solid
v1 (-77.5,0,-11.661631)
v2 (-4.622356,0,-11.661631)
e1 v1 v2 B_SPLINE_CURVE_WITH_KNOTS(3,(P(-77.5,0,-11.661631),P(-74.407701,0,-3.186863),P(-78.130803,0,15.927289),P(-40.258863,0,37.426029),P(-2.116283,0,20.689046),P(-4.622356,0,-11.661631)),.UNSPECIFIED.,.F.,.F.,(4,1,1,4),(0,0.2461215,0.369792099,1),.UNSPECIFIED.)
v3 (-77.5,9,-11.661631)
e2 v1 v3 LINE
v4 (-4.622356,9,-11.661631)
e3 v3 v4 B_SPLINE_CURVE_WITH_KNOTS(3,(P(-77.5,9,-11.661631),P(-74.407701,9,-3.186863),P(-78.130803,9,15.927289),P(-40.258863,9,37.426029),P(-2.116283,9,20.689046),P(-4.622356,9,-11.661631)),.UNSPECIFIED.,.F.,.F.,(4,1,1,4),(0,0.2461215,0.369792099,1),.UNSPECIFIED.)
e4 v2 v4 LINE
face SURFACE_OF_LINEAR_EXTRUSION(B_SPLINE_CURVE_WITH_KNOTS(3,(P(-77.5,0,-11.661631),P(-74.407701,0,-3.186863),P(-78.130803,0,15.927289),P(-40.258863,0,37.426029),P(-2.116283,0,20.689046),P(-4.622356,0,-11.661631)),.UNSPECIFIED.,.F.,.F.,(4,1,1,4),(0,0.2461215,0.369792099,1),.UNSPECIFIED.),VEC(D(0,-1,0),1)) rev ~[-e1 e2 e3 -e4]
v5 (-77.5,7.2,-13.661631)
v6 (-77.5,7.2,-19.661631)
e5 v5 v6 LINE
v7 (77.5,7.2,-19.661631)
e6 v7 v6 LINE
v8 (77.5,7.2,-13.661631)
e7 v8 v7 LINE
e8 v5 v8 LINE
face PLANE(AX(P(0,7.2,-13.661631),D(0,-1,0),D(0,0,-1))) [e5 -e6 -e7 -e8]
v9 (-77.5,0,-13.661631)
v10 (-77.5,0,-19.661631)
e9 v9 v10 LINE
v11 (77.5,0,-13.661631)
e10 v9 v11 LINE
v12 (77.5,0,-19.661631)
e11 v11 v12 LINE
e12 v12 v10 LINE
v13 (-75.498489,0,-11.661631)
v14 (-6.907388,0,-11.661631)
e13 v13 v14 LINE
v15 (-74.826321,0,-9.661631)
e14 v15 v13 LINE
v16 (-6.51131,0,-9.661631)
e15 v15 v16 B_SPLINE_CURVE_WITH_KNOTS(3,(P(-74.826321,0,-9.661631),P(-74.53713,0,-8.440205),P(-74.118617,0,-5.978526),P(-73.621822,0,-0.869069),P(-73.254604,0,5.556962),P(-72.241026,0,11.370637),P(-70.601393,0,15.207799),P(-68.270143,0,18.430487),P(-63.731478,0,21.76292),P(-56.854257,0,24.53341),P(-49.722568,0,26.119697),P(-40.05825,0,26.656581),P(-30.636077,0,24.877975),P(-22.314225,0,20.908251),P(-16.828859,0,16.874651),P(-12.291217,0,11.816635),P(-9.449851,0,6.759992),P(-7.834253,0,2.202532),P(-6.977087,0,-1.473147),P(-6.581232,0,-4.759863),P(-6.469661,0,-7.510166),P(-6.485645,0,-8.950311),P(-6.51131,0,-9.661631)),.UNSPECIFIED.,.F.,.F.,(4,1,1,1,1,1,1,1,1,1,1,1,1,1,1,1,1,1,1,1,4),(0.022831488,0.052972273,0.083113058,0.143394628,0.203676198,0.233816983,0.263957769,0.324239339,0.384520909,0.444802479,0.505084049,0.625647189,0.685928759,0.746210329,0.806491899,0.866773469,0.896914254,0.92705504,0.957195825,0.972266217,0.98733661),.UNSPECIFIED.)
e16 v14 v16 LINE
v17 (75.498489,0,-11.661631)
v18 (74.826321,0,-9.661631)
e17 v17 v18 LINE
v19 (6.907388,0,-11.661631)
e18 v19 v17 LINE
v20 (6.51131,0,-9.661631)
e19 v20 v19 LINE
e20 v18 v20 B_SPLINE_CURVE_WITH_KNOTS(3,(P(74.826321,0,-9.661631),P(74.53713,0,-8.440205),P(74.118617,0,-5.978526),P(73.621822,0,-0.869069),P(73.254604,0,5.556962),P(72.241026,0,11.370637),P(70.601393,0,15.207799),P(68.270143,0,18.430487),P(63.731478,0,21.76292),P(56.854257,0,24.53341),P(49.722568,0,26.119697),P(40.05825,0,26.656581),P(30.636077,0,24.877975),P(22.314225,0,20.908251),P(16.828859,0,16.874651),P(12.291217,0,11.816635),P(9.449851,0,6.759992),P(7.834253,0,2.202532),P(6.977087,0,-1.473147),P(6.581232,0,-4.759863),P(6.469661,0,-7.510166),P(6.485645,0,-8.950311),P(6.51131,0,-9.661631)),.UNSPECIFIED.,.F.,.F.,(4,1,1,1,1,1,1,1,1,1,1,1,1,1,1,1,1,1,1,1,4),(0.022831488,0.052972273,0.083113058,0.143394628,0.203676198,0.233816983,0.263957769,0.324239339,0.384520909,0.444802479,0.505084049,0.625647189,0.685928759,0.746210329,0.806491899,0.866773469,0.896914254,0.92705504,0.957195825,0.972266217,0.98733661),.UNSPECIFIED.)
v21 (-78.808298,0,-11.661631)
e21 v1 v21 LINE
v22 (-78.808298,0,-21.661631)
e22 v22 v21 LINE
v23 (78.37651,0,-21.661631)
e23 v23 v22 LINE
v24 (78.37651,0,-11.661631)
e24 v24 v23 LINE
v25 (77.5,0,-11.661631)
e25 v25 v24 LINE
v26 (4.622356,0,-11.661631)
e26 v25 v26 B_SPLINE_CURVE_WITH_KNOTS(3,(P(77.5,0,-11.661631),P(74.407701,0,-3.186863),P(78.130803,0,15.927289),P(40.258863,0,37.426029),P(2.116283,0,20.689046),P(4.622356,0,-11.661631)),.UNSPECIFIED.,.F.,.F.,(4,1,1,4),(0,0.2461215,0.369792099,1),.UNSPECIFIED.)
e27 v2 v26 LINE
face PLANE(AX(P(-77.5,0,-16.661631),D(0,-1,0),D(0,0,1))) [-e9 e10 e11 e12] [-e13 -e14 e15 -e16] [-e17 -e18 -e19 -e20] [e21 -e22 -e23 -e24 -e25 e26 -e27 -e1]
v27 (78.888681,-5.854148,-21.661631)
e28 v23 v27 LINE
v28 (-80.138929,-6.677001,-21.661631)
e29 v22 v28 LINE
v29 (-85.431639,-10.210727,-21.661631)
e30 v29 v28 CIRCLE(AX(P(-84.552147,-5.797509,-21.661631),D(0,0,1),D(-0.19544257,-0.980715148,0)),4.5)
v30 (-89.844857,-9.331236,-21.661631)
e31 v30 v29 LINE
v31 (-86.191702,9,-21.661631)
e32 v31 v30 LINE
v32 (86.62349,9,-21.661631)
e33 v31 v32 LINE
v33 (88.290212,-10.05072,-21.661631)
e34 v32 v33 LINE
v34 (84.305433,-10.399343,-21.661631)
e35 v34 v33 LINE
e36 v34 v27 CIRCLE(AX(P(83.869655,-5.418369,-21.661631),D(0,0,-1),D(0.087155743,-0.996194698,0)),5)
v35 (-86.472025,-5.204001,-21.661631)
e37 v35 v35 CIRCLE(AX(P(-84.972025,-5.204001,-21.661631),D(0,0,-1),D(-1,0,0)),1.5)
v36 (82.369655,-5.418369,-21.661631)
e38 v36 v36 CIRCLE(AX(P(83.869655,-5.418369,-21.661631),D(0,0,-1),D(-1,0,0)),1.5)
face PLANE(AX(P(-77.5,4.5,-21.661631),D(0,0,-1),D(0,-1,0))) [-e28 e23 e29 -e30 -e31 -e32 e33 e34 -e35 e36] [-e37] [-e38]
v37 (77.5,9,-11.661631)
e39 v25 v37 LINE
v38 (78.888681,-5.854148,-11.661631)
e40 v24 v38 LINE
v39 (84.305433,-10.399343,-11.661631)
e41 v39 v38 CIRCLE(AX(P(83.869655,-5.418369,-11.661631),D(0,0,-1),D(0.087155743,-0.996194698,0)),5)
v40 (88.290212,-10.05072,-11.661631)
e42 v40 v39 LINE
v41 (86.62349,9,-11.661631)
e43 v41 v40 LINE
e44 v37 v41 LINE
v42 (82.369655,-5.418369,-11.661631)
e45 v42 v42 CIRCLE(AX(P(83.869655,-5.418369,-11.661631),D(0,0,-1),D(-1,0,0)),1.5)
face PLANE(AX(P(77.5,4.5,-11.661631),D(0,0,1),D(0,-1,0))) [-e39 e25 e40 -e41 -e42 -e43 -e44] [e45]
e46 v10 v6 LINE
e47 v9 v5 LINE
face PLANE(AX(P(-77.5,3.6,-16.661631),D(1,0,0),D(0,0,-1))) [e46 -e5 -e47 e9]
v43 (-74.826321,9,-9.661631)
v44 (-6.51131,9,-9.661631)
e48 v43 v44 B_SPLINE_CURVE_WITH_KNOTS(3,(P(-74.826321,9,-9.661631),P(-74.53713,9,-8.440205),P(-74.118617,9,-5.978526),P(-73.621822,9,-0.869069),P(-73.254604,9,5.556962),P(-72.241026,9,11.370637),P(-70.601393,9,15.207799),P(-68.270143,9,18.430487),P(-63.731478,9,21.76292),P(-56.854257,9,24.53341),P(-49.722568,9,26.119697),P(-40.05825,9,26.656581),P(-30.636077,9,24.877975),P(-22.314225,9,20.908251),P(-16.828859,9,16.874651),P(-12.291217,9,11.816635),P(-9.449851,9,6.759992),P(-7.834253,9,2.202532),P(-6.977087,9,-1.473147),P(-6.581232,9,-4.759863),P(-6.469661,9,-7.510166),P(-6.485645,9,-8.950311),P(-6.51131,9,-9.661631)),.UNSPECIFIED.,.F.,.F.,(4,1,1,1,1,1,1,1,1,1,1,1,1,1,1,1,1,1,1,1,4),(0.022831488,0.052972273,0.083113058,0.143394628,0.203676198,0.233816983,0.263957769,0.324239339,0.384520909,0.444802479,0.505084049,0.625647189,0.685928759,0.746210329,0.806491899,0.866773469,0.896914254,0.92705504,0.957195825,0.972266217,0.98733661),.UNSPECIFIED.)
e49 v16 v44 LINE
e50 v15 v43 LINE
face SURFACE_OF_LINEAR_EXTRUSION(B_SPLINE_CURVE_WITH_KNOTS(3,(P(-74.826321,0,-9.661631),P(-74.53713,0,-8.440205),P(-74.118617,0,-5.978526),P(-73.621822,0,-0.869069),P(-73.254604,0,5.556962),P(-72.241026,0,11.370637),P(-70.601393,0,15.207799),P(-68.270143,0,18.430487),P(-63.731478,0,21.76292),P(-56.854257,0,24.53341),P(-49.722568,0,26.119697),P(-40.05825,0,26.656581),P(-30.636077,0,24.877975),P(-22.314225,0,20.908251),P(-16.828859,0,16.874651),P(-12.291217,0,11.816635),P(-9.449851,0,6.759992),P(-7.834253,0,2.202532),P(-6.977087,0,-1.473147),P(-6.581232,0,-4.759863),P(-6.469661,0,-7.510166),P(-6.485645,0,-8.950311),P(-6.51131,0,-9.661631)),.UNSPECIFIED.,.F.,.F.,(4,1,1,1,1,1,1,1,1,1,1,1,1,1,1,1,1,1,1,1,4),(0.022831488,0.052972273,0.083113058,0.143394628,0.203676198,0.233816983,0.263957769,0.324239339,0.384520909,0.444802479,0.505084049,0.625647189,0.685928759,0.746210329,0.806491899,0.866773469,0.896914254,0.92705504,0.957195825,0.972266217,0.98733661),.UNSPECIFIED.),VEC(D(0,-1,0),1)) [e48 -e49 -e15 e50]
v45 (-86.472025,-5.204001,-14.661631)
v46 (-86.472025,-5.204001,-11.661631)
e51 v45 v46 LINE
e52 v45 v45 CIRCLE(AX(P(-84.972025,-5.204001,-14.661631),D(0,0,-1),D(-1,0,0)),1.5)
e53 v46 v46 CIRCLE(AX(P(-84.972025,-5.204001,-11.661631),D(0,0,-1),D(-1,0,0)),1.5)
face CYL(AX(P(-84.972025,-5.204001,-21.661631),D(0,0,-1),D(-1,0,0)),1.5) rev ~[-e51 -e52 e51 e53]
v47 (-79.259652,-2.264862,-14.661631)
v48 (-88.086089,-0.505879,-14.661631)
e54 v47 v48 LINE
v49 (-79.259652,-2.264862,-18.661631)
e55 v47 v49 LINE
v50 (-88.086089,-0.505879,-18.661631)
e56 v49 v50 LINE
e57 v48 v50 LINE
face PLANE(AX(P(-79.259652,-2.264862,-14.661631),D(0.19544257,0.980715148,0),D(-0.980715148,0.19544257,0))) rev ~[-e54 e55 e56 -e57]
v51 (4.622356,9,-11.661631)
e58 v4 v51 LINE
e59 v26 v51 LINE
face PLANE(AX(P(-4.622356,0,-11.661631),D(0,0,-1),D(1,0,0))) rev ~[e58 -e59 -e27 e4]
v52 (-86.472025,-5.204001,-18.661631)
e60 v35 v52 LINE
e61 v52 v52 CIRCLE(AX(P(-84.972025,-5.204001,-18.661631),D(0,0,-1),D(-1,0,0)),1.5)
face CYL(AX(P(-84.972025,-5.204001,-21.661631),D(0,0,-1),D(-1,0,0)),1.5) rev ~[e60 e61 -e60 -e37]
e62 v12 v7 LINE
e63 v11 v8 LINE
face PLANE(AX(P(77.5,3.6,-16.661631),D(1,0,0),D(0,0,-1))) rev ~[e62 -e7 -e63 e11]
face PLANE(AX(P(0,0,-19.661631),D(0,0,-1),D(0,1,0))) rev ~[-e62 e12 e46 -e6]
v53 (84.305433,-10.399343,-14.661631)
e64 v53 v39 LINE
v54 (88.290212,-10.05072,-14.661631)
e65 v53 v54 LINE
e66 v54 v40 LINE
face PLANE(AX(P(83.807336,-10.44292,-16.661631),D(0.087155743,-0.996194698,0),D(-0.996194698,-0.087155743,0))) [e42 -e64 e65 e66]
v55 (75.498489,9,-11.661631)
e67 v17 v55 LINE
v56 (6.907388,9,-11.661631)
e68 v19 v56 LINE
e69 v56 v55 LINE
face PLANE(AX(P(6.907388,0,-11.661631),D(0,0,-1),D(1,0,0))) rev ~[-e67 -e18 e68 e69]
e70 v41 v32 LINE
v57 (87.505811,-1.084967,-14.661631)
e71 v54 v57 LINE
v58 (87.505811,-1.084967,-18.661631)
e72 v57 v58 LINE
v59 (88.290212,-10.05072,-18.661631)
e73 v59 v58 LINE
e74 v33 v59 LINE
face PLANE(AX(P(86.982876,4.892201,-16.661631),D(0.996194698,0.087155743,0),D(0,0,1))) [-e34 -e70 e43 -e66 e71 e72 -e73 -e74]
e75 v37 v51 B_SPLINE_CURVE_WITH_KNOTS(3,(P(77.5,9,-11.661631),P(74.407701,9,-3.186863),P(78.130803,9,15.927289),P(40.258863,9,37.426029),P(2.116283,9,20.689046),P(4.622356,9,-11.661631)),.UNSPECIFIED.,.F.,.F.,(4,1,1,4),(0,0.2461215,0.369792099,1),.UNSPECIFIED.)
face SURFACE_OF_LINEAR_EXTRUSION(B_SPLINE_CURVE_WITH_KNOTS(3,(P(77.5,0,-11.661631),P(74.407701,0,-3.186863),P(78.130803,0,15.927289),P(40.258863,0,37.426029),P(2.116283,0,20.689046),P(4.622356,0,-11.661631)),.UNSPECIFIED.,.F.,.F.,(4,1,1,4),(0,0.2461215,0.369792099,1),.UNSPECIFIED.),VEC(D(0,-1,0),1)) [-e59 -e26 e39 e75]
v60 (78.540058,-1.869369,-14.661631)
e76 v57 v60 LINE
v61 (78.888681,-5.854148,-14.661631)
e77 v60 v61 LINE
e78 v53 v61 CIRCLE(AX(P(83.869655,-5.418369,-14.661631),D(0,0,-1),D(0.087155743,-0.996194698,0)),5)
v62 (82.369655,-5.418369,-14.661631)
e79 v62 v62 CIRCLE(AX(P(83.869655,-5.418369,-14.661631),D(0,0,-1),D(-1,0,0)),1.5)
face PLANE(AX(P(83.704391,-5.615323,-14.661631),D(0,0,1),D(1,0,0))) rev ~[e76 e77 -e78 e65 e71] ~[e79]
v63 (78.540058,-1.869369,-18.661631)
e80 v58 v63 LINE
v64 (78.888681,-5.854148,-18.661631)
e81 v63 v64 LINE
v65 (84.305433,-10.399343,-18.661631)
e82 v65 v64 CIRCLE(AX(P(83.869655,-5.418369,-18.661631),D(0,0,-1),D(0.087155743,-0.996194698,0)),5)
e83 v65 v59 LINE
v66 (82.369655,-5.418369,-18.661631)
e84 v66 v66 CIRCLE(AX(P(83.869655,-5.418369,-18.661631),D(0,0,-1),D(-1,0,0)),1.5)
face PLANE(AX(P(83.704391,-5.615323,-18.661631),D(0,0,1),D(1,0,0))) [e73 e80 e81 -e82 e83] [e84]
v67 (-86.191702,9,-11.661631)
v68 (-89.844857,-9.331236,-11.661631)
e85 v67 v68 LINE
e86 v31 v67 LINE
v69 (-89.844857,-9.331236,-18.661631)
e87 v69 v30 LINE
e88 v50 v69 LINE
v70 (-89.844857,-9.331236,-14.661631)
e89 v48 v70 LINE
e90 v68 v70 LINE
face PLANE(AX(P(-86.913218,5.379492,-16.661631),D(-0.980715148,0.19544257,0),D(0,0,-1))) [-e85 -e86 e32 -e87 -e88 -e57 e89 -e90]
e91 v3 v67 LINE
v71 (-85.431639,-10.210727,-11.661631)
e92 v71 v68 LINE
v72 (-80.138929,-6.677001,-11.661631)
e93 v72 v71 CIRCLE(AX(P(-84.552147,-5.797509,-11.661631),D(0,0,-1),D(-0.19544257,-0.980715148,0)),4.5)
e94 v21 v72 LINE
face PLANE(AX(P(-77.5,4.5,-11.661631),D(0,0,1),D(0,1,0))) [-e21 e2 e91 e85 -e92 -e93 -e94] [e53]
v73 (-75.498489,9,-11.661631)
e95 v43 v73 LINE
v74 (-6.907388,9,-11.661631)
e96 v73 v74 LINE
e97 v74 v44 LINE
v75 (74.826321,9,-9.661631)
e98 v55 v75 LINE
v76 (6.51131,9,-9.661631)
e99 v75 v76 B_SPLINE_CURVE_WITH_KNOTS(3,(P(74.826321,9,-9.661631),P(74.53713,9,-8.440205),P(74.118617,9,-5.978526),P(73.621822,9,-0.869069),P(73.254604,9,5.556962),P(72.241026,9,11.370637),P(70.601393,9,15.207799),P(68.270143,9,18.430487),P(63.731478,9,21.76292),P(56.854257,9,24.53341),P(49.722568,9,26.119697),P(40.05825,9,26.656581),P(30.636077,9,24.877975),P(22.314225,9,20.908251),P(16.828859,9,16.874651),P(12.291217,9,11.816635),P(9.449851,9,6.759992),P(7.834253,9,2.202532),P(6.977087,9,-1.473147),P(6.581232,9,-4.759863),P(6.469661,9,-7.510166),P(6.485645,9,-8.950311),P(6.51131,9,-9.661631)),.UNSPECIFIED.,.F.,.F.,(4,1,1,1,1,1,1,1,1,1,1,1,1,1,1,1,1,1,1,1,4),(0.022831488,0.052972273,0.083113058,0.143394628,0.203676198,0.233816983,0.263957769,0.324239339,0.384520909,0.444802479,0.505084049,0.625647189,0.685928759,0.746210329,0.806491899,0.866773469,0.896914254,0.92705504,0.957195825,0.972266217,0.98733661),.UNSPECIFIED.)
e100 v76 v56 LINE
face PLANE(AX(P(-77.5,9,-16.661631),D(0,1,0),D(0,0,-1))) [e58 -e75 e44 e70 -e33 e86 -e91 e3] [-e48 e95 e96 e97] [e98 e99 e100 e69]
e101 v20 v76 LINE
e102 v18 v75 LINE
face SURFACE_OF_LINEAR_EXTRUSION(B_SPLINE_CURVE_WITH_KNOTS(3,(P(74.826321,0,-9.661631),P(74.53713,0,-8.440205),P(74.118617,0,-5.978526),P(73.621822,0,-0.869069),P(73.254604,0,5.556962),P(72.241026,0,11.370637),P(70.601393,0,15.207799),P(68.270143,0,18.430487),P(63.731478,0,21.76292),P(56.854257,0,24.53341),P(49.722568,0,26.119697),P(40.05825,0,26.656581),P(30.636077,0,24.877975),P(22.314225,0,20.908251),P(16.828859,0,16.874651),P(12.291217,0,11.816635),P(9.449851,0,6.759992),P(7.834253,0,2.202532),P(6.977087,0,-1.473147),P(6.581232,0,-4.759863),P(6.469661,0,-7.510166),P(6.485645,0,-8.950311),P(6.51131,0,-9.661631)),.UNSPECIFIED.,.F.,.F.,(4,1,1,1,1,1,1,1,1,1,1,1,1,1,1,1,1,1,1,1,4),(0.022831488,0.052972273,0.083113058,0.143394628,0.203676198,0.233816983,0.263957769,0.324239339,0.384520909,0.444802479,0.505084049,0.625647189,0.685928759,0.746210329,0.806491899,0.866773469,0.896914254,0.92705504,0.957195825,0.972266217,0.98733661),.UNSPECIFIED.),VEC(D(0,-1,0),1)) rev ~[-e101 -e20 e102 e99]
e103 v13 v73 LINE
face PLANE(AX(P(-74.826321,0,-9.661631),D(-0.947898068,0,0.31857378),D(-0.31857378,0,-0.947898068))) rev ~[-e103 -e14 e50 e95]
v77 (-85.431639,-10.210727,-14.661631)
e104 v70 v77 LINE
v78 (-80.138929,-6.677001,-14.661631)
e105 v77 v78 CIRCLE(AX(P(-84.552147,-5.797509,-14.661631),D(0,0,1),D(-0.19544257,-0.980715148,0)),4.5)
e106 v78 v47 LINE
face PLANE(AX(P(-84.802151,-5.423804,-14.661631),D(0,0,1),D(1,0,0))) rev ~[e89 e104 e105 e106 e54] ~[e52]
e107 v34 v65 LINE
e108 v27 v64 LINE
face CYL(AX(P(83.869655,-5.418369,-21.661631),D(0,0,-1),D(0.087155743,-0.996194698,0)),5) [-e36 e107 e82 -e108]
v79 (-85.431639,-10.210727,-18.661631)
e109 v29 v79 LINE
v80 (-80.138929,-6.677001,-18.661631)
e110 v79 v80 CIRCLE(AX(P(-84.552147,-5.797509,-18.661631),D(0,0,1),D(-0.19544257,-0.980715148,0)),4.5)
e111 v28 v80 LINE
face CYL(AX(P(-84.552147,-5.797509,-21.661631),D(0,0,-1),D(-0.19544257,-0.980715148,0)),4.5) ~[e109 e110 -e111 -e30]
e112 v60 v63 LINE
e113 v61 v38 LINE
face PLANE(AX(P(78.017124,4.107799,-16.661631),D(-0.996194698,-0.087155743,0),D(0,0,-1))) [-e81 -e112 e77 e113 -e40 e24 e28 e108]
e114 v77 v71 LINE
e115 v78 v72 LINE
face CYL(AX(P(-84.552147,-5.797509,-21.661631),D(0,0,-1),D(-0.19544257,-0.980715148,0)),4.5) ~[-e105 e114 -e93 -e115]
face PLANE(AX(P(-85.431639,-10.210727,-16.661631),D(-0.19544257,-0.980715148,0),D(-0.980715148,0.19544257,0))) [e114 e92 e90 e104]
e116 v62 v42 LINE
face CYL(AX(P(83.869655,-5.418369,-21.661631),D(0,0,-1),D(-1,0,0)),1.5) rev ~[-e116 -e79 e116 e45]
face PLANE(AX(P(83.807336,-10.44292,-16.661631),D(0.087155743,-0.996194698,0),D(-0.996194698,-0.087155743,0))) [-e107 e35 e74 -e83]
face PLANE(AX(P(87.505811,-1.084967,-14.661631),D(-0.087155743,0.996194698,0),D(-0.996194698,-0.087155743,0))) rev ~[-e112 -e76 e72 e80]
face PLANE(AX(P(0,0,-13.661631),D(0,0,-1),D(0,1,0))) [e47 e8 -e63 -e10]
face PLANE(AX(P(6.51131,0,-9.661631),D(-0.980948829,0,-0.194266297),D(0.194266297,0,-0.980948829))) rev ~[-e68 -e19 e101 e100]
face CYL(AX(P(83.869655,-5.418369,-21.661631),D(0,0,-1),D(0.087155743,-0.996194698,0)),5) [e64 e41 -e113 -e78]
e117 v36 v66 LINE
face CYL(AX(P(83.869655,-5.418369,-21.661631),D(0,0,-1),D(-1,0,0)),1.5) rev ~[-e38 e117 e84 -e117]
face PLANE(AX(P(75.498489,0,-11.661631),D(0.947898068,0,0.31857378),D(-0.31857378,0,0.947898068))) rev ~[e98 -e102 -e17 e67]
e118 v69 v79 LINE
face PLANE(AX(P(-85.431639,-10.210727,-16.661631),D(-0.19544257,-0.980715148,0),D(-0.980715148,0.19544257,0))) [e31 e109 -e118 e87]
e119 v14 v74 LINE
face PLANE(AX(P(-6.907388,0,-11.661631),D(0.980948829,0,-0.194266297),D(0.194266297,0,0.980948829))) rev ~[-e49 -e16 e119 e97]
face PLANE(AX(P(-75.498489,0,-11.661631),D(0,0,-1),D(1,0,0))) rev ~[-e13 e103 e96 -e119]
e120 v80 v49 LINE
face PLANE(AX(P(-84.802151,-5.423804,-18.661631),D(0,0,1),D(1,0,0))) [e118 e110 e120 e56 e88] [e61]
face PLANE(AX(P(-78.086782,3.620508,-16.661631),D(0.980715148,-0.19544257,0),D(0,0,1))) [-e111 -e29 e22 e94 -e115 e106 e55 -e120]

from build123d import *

# Parameters (mm, degrees)
FRAME_DEPTH              = 9
SKETCH_1035_W            = 10
SKETCH_1035_H            = 9
CONNECTION_2_DEPTH       = 103.044080854
SKETCH_23_W              = 10
SKETCH_23_H              = 9
SKETCH_24_R              = 1.5
AND_CONNECTION_DEPTH     = 104.419167617
SKETCH_25_W              = 6
SKETCH_25_H              = 7.2
CUT_EXTRUDE_2670_DEPTH   = 77.5
SKETCH_25_2_W            = 6
SKETCH_25_2_H            = 7.2
CUT_EXTRUDE_2723_DEPTH   = 77.5
SKETCH_1600_R            = 1.5
CUT_EXTRUDE_3036_DEPTH   = 104.349280079
CONNECTION_4_DEPTH       = 2
CONNECTION_4_DEPTH_BACK  = 2
CUT_EXTRUDE_3_DEPTH      = 2
CUT_EXTRUDE_3_DEPTH_BACK = 2


with BuildPart() as part:
    # 草图1 → frame (new body)
    with BuildSketch(Plane(origin=(0, 0, 0), x_dir=(1, 0, 0), z_dir=(0, 1, 0))):
        with BuildLine():
            Line((77.5, 21.66163142), (-77.5, 21.66163142))
            Line((-77.5, 21.66163142), (-77.5, 11.66163142))
            add(Edge.make_bspline(
                [(-77.5, 11.66163142), (-74.407700798, 3.186863233), (-78.13080327, -15.927288699), (-40.25886312, -37.426028597), (-2.116282918, -20.689046368), (-4.622356495, 11.66163142)],
                knots=[0, 0, 0, 0, 0.2461215, 0.369792099, 1, 1, 1, 1], degree=3))
            Line((-4.622356495, 11.66163142), (4.622356495, 11.66163142))
            add(Edge.make_bspline(
                [(77.5, 11.66163142), (74.407700798, 3.186863233), (78.13080327, -15.927288699), (40.25886312, -37.426028597), (2.116282918, -20.689046368), (4.622356495, 11.66163142)],
                knots=[0, 0, 0, 0, 0.2461215, 0.369792099, 1, 1, 1, 1], degree=3))
            Line((77.5, 11.66163142), (77.5, 21.66163142))
        make_face()
        with BuildLine():
            Line((6.907388487, 11.66163142), (75.498489426, 11.66163142))
            Line((75.498489426, 11.66163142), (74.826320569, 9.66163142))
            add(Edge.make_bspline(
                [(74.826320569, 9.66163142), (74.537129512, 8.440205397), (74.118616889, 5.97852646), (73.621822389, 0.86906895), (73.254603503, -5.556962308), (72.241025744, -11.370637322), (70.601393479, -15.207799235), (68.270143007, -18.43048657), (63.731478169, -21.762919869), (56.85425746, -24.533410045), (49.722568077, -26.119696622), (40.058249914, -26.656581209), (30.63607695, -24.877975202), (22.314225365, -20.908251341), (16.828859323, -16.874650673), (12.291217041, -11.816635216), (9.449850549, -6.759991518), (7.834253455, -2.202532167), (6.977086921, 1.473147324), (6.581231794, 4.759863142), (6.469661343, 7.510165764), (6.485645336, 8.950311376), (6.511310136, 9.66163142)],
                knots=[0.022831488, 0.022831488, 0.022831488, 0.022831488, 0.052972273, 0.083113058, 0.143394628, 0.203676198, 0.233816983, 0.263957769, 0.324239339, 0.384520909, 0.444802479, 0.505084049, 0.625647189, 0.685928759, 0.746210329, 0.806491899, 0.866773469, 0.896914254, 0.92705504, 0.957195825, 0.972266217, 0.98733661, 0.98733661, 0.98733661, 0.98733661], degree=3))
            Line((6.511310136, 9.66163142), (6.907388487, 11.66163142))
        make_face(mode=Mode.SUBTRACT)
        with BuildLine():
            Line((-75.498489426, 11.66163142), (-6.907388487, 11.66163142))
            Line((-6.907388487, 11.66163142), (-6.511310136, 9.66163142))
            add(Edge.make_bspline(
                [(-74.826320569, 9.66163142), (-74.537129512, 8.440205397), (-74.118616889, 5.97852646), (-73.621822389, 0.86906895), (-73.254603503, -5.556962308), (-72.241025744, -11.370637322), (-70.601393479, -15.207799235), (-68.270143007, -18.43048657), (-63.731478169, -21.762919869), (-56.85425746, -24.533410045), (-49.722568077, -26.119696622), (-40.058249914, -26.656581209), (-30.63607695, -24.877975202), (-22.314225365, -20.908251341), (-16.828859323, -16.874650673), (-12.291217041, -11.816635216), (-9.449850549, -6.759991518), (-7.834253455, -2.202532167), (-6.977086921, 1.473147324), (-6.581231794, 4.759863142), (-6.469661343, 7.510165764), (-6.485645336, 8.950311376), (-6.511310136, 9.66163142)],
                knots=[0.022831488, 0.022831488, 0.022831488, 0.022831488, 0.052972273, 0.083113058, 0.143394628, 0.203676198, 0.233816983, 0.263957769, 0.324239339, 0.384520909, 0.444802479, 0.505084049, 0.625647189, 0.685928759, 0.746210329, 0.806491899, 0.866773469, 0.896914254, 0.92705504, 0.957195825, 0.972266217, 0.98733661, 0.98733661, 0.98733661, 0.98733661], degree=3))
            Line((-74.826320569, 9.66163142), (-75.498489426, 11.66163142))
        make_face(mode=Mode.SUBTRACT)
    extrude(amount=FRAME_DEPTH)

    # connection: sweep along a path in Sketch 1207
    with BuildLine(Plane(origin=(0, 0, -16.66163142), x_dir=(-1, 0, 0), z_dir=(0, 0, -1))) as connection_path:
        Line((-77.5, 4.5), (-82.5, 4.5))
        Line((-82.5, 4.5), (-83.807336141, -10.442920471))
    # Sketch 1035 → connection (sweep)
    with BuildSketch(Plane(origin=(77.5, 0, 0), x_dir=(0, 0, -1), z_dir=(1, 0, 0))):
        with Locations((16.66163142, 4.5)):
            Rectangle(SKETCH_1035_W, SKETCH_1035_H)
    sweep(path=connection_path.line, transition=Transition.RIGHT)

    # 草图20 → connection 2 (cut, through all)
    with BuildSketch(Plane(origin=(0, 0, -21.66163142), x_dir=(-1, 0, 0), z_dir=(0, 0, -1))):
        with BuildLine():
            Line((-79.32446, -10.835121314), (-84.30543349, -10.3993426))
            ThreePointArc((-84.30543349, -10.3993426), (-80.655716728, -9.248591325), (-78.888681286, -5.854147823))
            Line((-78.888681286, -5.854147823), (-79.32446, -10.835121314))
        make_face()
    extrude(amount=-CONNECTION_2_DEPTH, mode=Mode.SUBTRACT)

    # connection 3: sweep along a path in 草图22
    with BuildLine(Plane(origin=(0, 0, -16.66163142), x_dir=(-1, 0, 0), z_dir=(0, 0, -1))) as connection_3_path:
        Line((77.5, 4.5), (82.5, 4.5))
        Line((82.5, 4.5), (85.431638554, -10.210727222))
    # 草图23 → connection 3 (sweep)
    with BuildSketch(Plane.ZY.offset(77.5)):
        with Locations((-16.66163142, 4.5)):
            Rectangle(SKETCH_23_W, SKETCH_23_H)
    sweep(path=connection_3_path.line, transition=Transition.RIGHT)

    # 草图24 → 右侧孔and_connection圆角化 (cut, through all)
    with BuildSketch(Plane(origin=(0, 0, -21.66163142), x_dir=(-1, 0, 0), z_dir=(0, 0, -1))):
        with Locations((84.972025364, -5.204001236)):
            Circle(SKETCH_24_R)
        with BuildLine():
            Line((81.018420388, -11.090218788), (85.431638554, -10.210727222))
            ThreePointArc((85.431638554, -10.210727222), (82.053424946, -9.540019998), (80.138928822, -6.677000621))
            Line((80.138928822, -6.677000621), (81.018420388, -11.090218788))
        make_face()
    extrude(amount=-AND_CONNECTION_DEPTH, mode=Mode.SUBTRACT)

    # 草图25 → Cut-Extrude 2670 (cut)
    with BuildSketch(Plane(origin=(0, 0, 0), x_dir=(0, 0, -1), z_dir=(1, 0, 0))):
        with Locations((16.66163142, 3.6)):
            Rectangle(SKETCH_25_W, SKETCH_25_H)
    extrude(amount=-CUT_EXTRUDE_2670_DEPTH, mode=Mode.SUBTRACT)

    # 草图25<2> → Cut-Extrude 2723 (cut)
    with BuildSketch(Plane(origin=(0, 0, 0), x_dir=(0, 0, -1), z_dir=(1, 0, 0))):
        with Locations((16.66163142, 3.6)):
            Rectangle(SKETCH_25_2_W, SKETCH_25_2_H)
    extrude(amount=CUT_EXTRUDE_2723_DEPTH, mode=Mode.SUBTRACT)

    # Sketch 1600 → Cut-Extrude 3036 (cut, through all)
    with BuildSketch(Plane(origin=(0, 0, -21.66163142), x_dir=(-1, 0, 0), z_dir=(0, 0, -1))):
        with Locations((-83.869654777, -5.41836911)):
            Circle(SKETCH_1600_R)
    extrude(amount=-CUT_EXTRUDE_3036_DEPTH, mode=Mode.SUBTRACT)

    # 草图27 → connection 4 (cut, two sides: drawn at the far end of the back side and taken through both)
    with BuildSketch(Plane(origin=(0, 0, -16.66163142), x_dir=(-1, 0, 0), z_dir=(0, 0, -1)).offset(-CONNECTION_4_DEPTH_BACK)):
        with BuildLine():
            Line((-87.505810598, -1.084967346), (-78.540058315, -1.869369031))
            Line((-78.540058315, -1.869369031), (-78.932259157, -6.352245172))
            ThreePointArc((-78.932259157, -6.352245172), (-80.522591055, -9.407244324), (-83.807336141, -10.442920471))
            Line((-83.807336141, -10.442920471), (-88.290212283, -10.050719629))
            Line((-88.290212283, -10.050719629), (-87.505810598, -1.084967346))
        make_face()
    extrude(amount=CONNECTION_4_DEPTH + CONNECTION_4_DEPTH_BACK, mode=Mode.SUBTRACT)

    # 草图30 → 切除-拉伸3 (cut, two sides: drawn at the far end of the back side and taken through both)
    with BuildSketch(Plane(origin=(0, 0, -16.66163142), x_dir=(-1, 0, 0), z_dir=(0, 0, -1)).offset(-CUT_EXTRUDE_3_DEPTH_BACK)):
        with BuildLine():
            Line((89.844856721, -9.331235655), (85.431638554, -10.210727222))
            ThreePointArc((85.431638554, -10.210727222), (82.053424946, -9.540019998), (80.138928822, -6.677000621))
            Line((80.138928822, -6.677000621), (79.259652435, -2.264862208))
            Line((79.259652435, -2.264862208), (88.086088768, -0.505879075))
            Line((88.086088768, -0.505879075), (89.844856721, -9.331235655))
        make_face()
    extrude(amount=CUT_EXTRUDE_3_DEPTH + CUT_EXTRUDE_3_DEPTH_BACK, mode=Mode.SUBTRACT)


solid = part.part
